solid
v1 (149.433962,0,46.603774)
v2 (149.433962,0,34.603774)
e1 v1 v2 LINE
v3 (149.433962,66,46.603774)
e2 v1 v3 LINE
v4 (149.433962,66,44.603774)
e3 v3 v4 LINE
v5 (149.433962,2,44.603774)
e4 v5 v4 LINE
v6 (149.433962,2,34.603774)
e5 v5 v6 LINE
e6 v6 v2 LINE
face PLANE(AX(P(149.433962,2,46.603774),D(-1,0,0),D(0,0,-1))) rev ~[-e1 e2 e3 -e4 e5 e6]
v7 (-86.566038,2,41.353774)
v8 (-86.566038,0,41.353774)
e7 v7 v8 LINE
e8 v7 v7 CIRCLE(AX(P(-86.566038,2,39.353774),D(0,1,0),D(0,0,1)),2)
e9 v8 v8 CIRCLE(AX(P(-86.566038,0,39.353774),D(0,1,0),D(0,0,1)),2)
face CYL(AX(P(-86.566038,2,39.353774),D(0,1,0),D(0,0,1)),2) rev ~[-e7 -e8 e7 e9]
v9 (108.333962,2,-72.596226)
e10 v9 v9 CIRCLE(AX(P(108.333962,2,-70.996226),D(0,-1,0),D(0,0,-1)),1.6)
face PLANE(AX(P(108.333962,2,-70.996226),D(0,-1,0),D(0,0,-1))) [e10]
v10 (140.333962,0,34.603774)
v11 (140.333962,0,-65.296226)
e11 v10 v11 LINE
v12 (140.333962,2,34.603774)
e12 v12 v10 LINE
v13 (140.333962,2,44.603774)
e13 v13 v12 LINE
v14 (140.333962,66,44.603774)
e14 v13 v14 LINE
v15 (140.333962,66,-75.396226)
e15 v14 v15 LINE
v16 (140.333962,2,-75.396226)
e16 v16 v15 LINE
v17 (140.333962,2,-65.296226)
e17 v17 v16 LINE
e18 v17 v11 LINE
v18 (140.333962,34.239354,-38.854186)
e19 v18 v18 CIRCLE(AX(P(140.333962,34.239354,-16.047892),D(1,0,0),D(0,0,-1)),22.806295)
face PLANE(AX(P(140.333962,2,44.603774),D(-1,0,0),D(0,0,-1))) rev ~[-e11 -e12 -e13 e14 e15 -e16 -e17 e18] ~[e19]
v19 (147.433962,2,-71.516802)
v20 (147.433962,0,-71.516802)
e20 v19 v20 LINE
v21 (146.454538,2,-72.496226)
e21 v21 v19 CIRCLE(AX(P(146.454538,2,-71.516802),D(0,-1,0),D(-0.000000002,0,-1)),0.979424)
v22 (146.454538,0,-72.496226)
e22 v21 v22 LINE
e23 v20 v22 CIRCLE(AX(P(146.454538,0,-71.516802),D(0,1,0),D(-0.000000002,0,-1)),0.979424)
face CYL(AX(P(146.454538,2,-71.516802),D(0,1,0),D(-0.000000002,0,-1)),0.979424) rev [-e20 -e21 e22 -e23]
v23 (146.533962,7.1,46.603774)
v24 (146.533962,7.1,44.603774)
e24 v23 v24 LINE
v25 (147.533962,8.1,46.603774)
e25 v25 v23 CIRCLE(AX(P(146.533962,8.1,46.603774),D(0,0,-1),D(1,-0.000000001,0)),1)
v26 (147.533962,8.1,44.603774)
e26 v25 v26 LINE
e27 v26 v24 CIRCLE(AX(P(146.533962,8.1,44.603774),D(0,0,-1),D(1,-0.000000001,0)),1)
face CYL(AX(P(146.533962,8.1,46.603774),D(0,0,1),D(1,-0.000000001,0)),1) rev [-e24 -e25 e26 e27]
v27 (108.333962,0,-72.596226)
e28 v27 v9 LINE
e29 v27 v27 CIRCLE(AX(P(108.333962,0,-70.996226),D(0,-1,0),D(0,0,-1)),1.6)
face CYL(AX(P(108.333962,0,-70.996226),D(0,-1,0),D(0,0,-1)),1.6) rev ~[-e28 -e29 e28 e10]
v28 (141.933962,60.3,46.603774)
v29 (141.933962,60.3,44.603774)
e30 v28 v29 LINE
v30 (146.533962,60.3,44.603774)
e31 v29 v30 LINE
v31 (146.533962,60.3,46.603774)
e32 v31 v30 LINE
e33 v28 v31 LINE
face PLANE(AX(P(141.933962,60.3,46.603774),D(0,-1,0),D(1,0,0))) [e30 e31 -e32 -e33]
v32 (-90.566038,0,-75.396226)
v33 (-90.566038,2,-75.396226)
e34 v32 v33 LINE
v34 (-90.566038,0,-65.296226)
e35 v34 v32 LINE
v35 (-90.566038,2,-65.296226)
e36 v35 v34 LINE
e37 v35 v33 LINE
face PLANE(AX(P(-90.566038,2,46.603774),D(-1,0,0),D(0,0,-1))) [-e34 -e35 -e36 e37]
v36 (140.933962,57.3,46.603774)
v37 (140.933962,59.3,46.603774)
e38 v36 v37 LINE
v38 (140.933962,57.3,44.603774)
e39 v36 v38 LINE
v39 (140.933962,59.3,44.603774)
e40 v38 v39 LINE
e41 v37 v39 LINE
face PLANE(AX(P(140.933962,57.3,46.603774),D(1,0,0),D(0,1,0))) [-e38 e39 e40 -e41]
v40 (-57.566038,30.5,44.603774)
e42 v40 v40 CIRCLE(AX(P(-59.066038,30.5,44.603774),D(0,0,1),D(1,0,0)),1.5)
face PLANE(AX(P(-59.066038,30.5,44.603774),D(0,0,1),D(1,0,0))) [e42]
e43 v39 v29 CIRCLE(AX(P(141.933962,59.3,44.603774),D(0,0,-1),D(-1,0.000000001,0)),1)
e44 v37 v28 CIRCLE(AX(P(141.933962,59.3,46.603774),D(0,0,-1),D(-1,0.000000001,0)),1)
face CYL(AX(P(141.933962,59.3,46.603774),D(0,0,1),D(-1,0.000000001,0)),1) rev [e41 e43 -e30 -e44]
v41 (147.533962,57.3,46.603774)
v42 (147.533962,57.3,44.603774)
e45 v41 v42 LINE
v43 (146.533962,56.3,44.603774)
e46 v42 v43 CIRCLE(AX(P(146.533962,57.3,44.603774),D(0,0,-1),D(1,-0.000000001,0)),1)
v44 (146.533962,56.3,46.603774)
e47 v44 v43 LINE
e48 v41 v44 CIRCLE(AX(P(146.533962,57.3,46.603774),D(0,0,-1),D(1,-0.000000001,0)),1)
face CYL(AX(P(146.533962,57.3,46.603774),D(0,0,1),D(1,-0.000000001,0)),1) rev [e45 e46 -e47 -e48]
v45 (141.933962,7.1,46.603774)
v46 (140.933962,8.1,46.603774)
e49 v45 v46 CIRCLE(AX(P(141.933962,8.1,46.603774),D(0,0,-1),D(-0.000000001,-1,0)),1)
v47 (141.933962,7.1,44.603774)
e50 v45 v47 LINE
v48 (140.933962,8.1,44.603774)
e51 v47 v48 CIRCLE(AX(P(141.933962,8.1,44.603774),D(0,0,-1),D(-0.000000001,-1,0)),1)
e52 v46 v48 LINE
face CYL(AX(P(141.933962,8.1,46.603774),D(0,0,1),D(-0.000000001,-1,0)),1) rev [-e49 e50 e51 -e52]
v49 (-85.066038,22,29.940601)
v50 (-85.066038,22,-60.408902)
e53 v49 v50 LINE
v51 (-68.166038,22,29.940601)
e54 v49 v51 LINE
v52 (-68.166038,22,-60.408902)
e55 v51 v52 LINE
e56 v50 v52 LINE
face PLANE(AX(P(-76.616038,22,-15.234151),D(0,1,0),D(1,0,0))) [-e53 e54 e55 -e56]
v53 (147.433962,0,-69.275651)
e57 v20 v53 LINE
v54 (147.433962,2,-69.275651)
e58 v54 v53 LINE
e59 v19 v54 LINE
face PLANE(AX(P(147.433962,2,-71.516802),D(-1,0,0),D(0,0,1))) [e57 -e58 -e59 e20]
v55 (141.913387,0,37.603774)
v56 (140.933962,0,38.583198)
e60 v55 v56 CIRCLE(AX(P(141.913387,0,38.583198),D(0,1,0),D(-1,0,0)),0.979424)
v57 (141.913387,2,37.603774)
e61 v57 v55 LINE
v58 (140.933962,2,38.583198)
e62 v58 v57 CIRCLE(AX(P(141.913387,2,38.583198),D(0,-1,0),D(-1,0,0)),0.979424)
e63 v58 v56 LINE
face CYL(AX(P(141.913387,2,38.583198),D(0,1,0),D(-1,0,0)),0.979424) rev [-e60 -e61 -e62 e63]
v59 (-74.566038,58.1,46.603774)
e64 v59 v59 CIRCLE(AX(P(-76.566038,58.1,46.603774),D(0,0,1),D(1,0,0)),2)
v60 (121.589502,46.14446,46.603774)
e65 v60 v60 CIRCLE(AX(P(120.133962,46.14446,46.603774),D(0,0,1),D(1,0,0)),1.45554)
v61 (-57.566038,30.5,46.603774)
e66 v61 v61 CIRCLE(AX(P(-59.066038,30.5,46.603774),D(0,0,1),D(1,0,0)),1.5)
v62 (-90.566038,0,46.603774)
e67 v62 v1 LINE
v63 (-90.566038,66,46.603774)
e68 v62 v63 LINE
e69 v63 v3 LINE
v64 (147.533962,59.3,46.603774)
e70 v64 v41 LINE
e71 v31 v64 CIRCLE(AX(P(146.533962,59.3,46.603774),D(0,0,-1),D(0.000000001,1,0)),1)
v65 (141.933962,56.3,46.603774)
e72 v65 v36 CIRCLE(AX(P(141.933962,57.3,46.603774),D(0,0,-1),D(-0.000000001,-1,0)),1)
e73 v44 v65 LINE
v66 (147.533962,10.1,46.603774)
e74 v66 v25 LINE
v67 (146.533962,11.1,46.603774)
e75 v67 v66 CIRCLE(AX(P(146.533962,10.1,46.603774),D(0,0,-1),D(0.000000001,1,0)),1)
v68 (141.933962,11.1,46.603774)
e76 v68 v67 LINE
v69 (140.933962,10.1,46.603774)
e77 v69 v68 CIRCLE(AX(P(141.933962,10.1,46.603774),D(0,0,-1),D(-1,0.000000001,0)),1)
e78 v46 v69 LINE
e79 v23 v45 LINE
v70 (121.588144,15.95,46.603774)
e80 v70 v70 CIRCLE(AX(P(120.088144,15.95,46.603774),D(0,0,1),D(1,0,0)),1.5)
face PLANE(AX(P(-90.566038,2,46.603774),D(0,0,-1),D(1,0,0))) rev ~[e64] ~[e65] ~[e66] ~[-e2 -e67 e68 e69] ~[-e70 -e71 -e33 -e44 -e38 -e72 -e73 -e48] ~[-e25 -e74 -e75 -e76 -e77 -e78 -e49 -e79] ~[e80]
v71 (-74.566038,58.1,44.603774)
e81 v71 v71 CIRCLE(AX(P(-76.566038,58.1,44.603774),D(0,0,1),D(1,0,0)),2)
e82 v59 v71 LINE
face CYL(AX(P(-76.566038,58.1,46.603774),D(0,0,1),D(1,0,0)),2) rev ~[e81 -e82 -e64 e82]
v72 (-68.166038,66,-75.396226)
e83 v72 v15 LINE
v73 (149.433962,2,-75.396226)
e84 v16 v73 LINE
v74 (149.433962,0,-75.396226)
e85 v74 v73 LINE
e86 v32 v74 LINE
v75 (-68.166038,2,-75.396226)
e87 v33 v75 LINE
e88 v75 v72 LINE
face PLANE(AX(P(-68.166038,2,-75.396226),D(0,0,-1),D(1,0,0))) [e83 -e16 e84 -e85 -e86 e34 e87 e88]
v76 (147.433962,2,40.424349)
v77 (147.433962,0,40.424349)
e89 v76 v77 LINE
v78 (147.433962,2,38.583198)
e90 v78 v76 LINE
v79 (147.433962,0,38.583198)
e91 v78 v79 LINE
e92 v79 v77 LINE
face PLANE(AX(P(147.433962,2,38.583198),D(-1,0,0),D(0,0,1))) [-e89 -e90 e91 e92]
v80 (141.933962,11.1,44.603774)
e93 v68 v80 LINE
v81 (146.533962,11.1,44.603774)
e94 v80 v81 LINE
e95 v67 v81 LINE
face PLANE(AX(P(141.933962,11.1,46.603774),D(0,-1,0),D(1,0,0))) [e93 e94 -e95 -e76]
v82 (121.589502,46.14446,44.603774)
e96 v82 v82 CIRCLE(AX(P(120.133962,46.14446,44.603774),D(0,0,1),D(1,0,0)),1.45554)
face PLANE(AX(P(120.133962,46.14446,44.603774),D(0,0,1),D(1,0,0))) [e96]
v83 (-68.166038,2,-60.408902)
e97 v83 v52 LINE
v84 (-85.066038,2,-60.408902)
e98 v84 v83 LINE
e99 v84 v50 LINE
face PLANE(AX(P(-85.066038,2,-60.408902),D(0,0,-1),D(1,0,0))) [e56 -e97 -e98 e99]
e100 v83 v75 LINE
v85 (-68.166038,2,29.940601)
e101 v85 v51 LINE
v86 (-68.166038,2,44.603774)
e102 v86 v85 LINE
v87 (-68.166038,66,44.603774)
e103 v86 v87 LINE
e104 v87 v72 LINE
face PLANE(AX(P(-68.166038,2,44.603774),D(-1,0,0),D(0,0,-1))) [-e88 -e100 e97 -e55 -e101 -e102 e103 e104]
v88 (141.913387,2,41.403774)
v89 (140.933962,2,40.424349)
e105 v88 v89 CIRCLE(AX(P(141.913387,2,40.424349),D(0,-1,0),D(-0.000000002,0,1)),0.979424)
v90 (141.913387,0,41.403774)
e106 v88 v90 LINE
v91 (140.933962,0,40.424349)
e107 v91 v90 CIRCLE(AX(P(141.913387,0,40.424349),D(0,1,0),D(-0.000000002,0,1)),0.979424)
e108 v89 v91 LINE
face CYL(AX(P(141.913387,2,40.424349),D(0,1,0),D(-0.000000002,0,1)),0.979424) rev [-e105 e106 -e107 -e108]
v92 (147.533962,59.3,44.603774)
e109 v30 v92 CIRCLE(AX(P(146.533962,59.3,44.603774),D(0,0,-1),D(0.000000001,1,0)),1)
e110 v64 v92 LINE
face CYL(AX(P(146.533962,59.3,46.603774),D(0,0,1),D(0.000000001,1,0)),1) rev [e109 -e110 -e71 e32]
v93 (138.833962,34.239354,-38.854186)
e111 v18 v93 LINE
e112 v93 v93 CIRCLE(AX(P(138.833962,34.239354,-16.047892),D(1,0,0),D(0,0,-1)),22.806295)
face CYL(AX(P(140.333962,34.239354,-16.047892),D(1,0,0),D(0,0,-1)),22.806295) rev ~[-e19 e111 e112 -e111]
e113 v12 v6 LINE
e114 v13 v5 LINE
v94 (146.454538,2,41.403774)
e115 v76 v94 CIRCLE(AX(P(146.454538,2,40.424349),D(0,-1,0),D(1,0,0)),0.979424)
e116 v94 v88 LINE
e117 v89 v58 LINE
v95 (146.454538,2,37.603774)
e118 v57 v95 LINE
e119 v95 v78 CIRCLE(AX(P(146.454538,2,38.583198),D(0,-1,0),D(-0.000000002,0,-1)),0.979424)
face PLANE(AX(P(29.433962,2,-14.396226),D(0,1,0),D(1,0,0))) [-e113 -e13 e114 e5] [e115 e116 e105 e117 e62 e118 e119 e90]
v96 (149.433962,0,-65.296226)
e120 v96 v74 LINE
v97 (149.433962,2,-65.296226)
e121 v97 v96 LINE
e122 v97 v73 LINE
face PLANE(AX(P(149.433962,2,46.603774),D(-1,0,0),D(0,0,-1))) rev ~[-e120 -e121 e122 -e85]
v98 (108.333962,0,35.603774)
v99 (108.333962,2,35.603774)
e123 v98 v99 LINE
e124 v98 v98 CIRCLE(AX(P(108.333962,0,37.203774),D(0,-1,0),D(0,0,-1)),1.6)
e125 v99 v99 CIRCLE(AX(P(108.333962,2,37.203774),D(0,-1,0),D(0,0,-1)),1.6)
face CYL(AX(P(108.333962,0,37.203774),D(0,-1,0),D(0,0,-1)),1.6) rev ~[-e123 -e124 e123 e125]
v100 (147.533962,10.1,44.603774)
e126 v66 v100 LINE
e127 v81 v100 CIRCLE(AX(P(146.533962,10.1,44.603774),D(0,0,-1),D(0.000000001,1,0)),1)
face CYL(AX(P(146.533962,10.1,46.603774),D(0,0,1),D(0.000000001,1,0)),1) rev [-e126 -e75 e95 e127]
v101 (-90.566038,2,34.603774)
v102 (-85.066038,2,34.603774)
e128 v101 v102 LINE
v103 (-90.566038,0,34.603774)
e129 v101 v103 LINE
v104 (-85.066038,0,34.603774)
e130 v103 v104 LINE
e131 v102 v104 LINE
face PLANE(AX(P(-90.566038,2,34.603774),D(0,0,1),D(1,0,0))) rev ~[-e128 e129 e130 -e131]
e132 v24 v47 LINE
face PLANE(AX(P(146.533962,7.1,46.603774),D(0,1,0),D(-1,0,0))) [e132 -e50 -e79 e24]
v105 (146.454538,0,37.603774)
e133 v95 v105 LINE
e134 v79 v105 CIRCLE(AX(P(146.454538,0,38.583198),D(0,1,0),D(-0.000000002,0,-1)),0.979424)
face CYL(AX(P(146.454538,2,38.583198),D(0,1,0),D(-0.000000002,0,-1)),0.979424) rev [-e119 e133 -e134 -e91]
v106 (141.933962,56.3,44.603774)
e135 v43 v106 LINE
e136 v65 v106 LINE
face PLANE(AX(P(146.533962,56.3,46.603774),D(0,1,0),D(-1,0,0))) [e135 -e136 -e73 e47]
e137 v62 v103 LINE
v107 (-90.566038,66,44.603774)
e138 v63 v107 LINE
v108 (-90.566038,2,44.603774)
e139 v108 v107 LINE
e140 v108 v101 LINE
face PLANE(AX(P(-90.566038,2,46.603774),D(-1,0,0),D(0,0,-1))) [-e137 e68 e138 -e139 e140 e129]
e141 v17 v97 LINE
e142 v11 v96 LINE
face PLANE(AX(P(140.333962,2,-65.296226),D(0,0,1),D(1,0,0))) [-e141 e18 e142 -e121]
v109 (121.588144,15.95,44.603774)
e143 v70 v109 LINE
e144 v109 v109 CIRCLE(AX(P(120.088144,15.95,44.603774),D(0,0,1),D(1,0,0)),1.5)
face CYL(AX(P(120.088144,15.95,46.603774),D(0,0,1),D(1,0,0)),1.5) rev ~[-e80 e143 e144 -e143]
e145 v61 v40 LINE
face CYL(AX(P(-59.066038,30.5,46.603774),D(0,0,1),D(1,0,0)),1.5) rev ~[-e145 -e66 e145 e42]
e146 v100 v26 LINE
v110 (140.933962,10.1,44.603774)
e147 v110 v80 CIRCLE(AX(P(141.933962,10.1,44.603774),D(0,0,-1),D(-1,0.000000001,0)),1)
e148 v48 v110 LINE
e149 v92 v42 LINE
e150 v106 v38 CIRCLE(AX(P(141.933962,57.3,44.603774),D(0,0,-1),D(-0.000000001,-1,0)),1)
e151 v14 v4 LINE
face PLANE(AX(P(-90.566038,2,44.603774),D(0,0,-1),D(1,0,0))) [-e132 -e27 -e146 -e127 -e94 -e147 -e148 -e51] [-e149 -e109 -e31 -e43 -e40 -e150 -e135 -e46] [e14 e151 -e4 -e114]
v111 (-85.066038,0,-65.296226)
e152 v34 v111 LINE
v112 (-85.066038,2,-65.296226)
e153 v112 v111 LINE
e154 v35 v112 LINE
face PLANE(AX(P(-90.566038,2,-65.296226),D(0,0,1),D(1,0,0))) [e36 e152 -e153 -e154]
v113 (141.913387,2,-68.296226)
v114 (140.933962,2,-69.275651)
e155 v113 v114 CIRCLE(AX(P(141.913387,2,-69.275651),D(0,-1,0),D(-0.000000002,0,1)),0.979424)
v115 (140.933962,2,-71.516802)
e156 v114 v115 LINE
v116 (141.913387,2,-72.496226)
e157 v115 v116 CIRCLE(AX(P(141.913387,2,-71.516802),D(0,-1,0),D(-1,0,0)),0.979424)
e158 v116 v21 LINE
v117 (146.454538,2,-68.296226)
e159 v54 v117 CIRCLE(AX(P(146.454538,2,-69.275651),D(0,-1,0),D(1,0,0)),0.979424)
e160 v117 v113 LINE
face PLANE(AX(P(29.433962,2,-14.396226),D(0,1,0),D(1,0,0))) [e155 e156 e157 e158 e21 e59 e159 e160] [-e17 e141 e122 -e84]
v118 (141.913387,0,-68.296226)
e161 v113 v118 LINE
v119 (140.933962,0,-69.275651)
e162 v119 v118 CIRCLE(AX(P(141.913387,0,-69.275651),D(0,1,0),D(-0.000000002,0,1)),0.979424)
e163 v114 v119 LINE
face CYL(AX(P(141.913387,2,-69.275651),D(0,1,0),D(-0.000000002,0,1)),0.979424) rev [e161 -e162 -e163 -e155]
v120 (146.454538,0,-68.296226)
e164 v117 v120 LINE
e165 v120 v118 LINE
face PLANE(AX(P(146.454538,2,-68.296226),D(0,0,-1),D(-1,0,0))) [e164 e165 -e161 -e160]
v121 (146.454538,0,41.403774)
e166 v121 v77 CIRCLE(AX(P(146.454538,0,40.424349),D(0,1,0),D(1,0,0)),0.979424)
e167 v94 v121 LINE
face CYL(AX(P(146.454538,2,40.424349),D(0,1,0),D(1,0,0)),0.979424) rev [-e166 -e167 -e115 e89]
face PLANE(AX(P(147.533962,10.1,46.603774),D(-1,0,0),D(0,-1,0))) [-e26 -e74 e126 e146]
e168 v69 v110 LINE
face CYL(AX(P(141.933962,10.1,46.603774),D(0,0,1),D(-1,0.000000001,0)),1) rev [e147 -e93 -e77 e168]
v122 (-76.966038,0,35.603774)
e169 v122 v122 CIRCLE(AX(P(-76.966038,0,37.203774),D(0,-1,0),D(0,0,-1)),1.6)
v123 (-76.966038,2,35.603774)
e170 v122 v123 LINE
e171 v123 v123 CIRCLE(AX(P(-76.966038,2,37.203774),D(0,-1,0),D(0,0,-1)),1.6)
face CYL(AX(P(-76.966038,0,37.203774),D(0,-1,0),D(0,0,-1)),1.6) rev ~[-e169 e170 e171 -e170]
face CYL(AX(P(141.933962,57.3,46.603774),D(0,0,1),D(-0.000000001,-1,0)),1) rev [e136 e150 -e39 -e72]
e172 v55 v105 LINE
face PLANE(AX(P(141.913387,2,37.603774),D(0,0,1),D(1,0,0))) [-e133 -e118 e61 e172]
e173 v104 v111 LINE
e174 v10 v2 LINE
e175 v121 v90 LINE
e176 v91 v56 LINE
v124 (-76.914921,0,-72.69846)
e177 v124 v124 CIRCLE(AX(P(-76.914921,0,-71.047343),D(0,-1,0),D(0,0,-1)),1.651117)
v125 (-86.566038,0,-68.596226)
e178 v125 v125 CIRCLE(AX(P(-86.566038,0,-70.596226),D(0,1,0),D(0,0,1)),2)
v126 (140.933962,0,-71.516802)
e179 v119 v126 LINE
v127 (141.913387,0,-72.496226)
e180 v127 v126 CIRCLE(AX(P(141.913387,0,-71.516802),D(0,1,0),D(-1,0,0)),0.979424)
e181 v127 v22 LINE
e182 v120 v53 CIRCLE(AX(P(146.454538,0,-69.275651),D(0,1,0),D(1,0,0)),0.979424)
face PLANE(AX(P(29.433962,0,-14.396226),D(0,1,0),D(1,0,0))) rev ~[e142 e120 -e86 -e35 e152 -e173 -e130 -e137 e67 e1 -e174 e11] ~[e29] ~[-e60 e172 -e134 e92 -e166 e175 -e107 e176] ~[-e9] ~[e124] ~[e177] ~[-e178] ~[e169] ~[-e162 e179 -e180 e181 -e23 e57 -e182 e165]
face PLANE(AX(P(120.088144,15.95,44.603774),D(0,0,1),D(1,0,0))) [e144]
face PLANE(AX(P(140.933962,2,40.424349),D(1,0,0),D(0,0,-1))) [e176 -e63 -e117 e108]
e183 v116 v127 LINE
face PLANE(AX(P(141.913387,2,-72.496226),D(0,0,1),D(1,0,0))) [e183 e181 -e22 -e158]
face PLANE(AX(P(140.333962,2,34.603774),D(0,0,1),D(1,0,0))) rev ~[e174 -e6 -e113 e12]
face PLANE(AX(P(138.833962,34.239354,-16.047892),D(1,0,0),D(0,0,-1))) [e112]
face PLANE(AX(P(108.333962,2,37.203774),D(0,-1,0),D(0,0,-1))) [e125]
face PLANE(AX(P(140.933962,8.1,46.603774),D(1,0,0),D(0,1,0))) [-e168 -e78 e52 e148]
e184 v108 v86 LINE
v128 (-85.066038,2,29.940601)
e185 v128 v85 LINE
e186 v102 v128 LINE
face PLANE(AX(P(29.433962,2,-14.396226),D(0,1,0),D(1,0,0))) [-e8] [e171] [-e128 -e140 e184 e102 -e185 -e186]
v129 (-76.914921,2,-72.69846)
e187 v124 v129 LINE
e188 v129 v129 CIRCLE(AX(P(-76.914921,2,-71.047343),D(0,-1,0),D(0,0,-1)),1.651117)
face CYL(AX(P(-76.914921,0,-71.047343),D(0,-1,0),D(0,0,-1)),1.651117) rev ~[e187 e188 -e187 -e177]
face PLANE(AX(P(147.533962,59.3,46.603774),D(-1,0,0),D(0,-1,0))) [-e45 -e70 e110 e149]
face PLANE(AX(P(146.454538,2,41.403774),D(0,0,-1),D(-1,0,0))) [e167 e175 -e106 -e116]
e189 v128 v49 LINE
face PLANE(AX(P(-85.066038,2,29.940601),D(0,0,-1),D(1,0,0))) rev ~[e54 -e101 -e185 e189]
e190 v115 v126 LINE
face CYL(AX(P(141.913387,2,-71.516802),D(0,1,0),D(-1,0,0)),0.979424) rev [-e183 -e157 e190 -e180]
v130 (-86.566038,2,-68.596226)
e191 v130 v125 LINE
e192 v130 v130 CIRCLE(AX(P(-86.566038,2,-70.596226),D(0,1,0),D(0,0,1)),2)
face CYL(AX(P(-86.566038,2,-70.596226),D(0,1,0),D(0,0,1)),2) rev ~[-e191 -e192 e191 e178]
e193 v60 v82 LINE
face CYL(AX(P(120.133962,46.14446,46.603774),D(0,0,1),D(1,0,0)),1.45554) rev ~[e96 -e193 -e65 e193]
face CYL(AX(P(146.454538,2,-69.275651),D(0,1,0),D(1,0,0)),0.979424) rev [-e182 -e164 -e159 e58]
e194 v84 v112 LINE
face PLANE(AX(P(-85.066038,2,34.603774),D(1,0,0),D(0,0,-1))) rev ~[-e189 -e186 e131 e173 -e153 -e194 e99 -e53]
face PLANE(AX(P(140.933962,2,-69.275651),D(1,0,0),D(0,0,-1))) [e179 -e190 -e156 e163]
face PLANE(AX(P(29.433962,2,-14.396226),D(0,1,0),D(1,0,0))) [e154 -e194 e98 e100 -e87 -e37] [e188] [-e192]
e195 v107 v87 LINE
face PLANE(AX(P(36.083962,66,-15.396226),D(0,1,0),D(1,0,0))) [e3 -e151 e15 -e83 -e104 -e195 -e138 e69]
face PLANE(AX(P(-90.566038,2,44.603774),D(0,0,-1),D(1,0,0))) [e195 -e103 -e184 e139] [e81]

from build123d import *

# Parameters (mm, degrees)
SZKIC1_W                    = 240
SZKIC1_H                    = 122
DODANIE_WYCI_GNI_CIE1_DEPTH = 2
SZKIC2_W                    = 240
SZKIC2_H                    = 2
DODANIE_WYCI_GNI_CIE2_DEPTH = 64
SZKIC3_W                    = 9.1
SZKIC3_H                    = 99.9
SZKIC3_W_2                  = 5.5
WYTNIJ_WYCI_GNI_CIE1_DEPTH  = 180.195703173
SZKIC4_W                    = 208.5
SZKIC4_H                    = 120
DODANIE_WYCI_GNI_CIE3_DEPTH = 64
SZKIC5_R                    = 22.806294832
WYTNIJ_WYCI_GNI_CIE2_DEPTH  = 1.5
SZKIC6_W                    = 16.9
SZKIC6_H                    = 90.349503158
DODANIE_WYCI_GNI_CIE4_DEPTH = 20
WYTNIJ_WYCI_GNI_CIE3_DEPTH  = 180.195703173
SZKIC8_R                    = 2
WYTNIJ_WYCI_GNI_CIE4_DEPTH  = 180.195703173
SZKIC9_R                    = 1.6
SZKIC9_R_2                  = 1.651116854
WYTNIJ_WYCI_GNI_CIE5_DEPTH  = 2
SZKIC10_R                   = 2
WYTNIJ_WYCI_GNI_CIE6_DEPTH  = 2
SZKIC11_R                   = 1.455539738
SZKIC11_R_2                 = 1.5
WYTNIJ_WYCI_GNI_CIE7_DEPTH  = 2


with BuildPart() as part:
    # Szkic1 → Dodanie-wyciągnięcie1 (new body)
    with BuildSketch(Plane(origin=(0, 0, 0), x_dir=(1, 0, 0), z_dir=(0, 1, 0))):
        with Locations((29.433962264, 14.396226415)):
            Rectangle(SZKIC1_W, SZKIC1_H)
    extrude(amount=DODANIE_WYCI_GNI_CIE1_DEPTH)

    # Szkic2 → Dodanie-wyciągnięcie2 (add)
    with BuildSketch(Plane(origin=(0, 2, 0), x_dir=(1, 0, 0), z_dir=(0, 1, 0))):
        with Locations((29.433962264, -45.603773585)):
            Rectangle(SZKIC2_W, SZKIC2_H)
    extrude(amount=DODANIE_WYCI_GNI_CIE2_DEPTH)

    # Szkic3 → Wytnij-wyciągnięcie1 (cut, through all)
    with BuildSketch(Plane(origin=(0, 2, 0), x_dir=(1, 0, 0), z_dir=(0, 1, 0))):
        with Locations((144.883962264, 15.346226415)):
            Rectangle(SZKIC3_W, SZKIC3_H)
        with Locations((-87.816037736, 15.346226415)):
            Rectangle(SZKIC3_W_2, SZKIC3_H)
    extrude(amount=-WYTNIJ_WYCI_GNI_CIE1_DEPTH, mode=Mode.SUBTRACT)

    # Szkic4 → Dodanie-wyciągnięcie3 (add)
    with BuildSketch(Plane(origin=(0, 2, 0), x_dir=(1, 0, 0), z_dir=(0, 1, 0))):
        with Locations((36.083962264, 15.396226415)):
            Rectangle(SZKIC4_W, SZKIC4_H)
    extrude(amount=DODANIE_WYCI_GNI_CIE3_DEPTH)

    # Szkic5 → Wytnij-wyciągnięcie2 (cut)
    with BuildSketch(Plane(origin=(140.333962264, 0, 0), x_dir=(0, 0, -1), z_dir=(1, 0, 0))):
        with Locations((16.047891544, 34.239354483)):
            Circle(SZKIC5_R)
    extrude(amount=-WYTNIJ_WYCI_GNI_CIE2_DEPTH, mode=Mode.SUBTRACT)

    # Szkic6 → Dodanie-wyciągnięcie4 (add)
    with BuildSketch(Plane(origin=(0, 2, 0), x_dir=(1, 0, 0), z_dir=(0, 1, 0))):
        with Locations((-76.616037736, 15.234150699)):
            Rectangle(SZKIC6_W, SZKIC6_H)
    extrude(amount=DODANIE_WYCI_GNI_CIE4_DEPTH)

    # Szkic7 → Wytnij-wyciągnięcie3 (cut, through all)
    with BuildSketch(Plane(origin=(0, 2, 0), x_dir=(1, 0, 0), z_dir=(0, 1, 0))):
        with BuildLine():
            Line((141.913386631, 72.496226415), (146.454537897, 72.496226415))
            ThreePointArc((146.454537897, 72.496226415), (147.147095509, 72.20935966), (147.433962264, 71.516802048))
            Line((147.433962264, 71.516802048), (147.433962264, 69.275650782))
            ThreePointArc((147.433962264, 69.275650782), (147.147095509, 68.583093171), (146.454537897, 68.296226415))
            Line((146.454537897, 68.296226415), (141.913386631, 68.296226415))
            ThreePointArc((141.913386631, 68.296226415), (141.22082902, 68.583093171), (140.933962264, 69.275650782))
            Line((140.933962264, 69.275650782), (140.933962264, 71.516802048))
            ThreePointArc((140.933962264, 71.516802048), (141.22082902, 72.20935966), (141.913386631, 72.496226415))
        make_face()
        with BuildLine():
            Line((141.913386631, -37.603773585), (146.454537897, -37.603773585))
            ThreePointArc((146.454537897, -37.603773585), (147.147095509, -37.89064034), (147.433962264, -38.583197952))
            Line((147.433962264, -38.583197952), (147.433962264, -40.424349218))
            ThreePointArc((147.433962264, -40.424349218), (147.147095509, -41.116906829), (146.454537897, -41.403773585))
            Line((146.454537897, -41.403773585), (141.913386631, -41.403773585))
            ThreePointArc((141.913386631, -41.403773585), (141.22082902, -41.116906829), (140.933962264, -40.424349218))
            Line((140.933962264, -40.424349218), (140.933962264, -38.583197952))
            ThreePointArc((140.933962264, -38.583197952), (141.22082902, -37.89064034), (141.913386631, -37.603773585))
        make_face()
    extrude(amount=-WYTNIJ_WYCI_GNI_CIE3_DEPTH, mode=Mode.SUBTRACT)

    # Szkic8 → Wytnij-wyciągnięcie4 (cut, through all)
    with BuildSketch(Plane(origin=(0, 2, 0), x_dir=(1, 0, 0), z_dir=(0, 1, 0))):
        with Locations(Location((-86.566037736, 70.596226415, 0), (0, 0, 270))):
            Circle(SZKIC8_R)
        with Locations(Location((-86.566037736, -39.353773585, 0), (0, 0, 270))):
            Circle(SZKIC8_R)
    extrude(amount=-WYTNIJ_WYCI_GNI_CIE4_DEPTH, mode=Mode.SUBTRACT)

    # Szkic9 → Wytnij-wyciągnięcie5 (cut)
    with BuildSketch(Plane.XZ):
        with Locations(Location((-76.966037736, 37.203773585, 0), (0, 0, 270))):
            Circle(SZKIC9_R)
        with Locations(Location((108.333962264, 37.203773585, 0), (0, 0, 270))):
            Circle(SZKIC9_R)
        with Locations(Location((108.333962264, -70.996226415, 0), (0, 0, 270))):
            Circle(SZKIC9_R)
        with Locations(Location((-76.914920882, -71.047343269, 0), (0, 0, 270))):
            Circle(SZKIC9_R_2)
    extrude(amount=-WYTNIJ_WYCI_GNI_CIE5_DEPTH, mode=Mode.SUBTRACT)

    # Szkic10 → Wytnij-wyciągnięcie6 (cut)
    with BuildSketch(Plane.XY.offset(46.603773585)):
        with Locations((-76.566037736, 58.1)):
            Circle(SZKIC10_R)
        with BuildLine():
            Line((141.933962264, 60.3), (146.533962264, 60.3))
            ThreePointArc((146.533962264, 60.3), (147.241069045, 60.007106781), (147.533962264, 59.3))
            Line((147.533962264, 59.3), (147.533962264, 57.3))
            ThreePointArc((147.533962264, 57.3), (147.241069045, 56.592893219), (146.533962264, 56.3))
            Line((146.533962264, 56.3), (141.933962264, 56.3))
            ThreePointArc((141.933962264, 56.3), (141.226855483, 56.592893219), (140.933962264, 57.3))
            Line((140.933962264, 57.3), (140.933962264, 59.3))
            ThreePointArc((140.933962264, 59.3), (141.226855483, 60.007106781), (141.933962264, 60.3))
        make_face()
        with BuildLine():
            Line((141.933962264, 11.1), (146.533962264, 11.1))
            ThreePointArc((146.533962264, 11.1), (147.241069045, 10.807106781), (147.533962264, 10.1))
            Line((147.533962264, 10.1), (147.533962264, 8.1))
            ThreePointArc((147.533962264, 8.1), (147.241069045, 7.392893219), (146.533962264, 7.1))
            Line((146.533962264, 7.1), (141.933962264, 7.1))
            ThreePointArc((141.933962264, 7.1), (141.226855483, 7.392893219), (140.933962264, 8.1))
            Line((140.933962264, 8.1), (140.933962264, 10.1))
            ThreePointArc((140.933962264, 10.1), (141.226855483, 10.807106781), (141.933962264, 11.1))
        make_face()
    extrude(amount=-WYTNIJ_WYCI_GNI_CIE6_DEPTH, mode=Mode.SUBTRACT)

    # Szkic11 → Wytnij-wyciągnięcie7 (cut)
    with BuildSketch(Plane.XY.offset(46.603773585)):
        with Locations((120.133962264, 46.144460262)):
            Circle(SZKIC11_R)
        with Locations((120.088143939, 15.95)):
            Circle(SZKIC11_R_2)
        with Locations((-59.066037736, 30.5)):
            Circle(SZKIC11_R_2)
    extrude(amount=-WYTNIJ_WYCI_GNI_CIE7_DEPTH, mode=Mode.SUBTRACT)


solid = part.part
